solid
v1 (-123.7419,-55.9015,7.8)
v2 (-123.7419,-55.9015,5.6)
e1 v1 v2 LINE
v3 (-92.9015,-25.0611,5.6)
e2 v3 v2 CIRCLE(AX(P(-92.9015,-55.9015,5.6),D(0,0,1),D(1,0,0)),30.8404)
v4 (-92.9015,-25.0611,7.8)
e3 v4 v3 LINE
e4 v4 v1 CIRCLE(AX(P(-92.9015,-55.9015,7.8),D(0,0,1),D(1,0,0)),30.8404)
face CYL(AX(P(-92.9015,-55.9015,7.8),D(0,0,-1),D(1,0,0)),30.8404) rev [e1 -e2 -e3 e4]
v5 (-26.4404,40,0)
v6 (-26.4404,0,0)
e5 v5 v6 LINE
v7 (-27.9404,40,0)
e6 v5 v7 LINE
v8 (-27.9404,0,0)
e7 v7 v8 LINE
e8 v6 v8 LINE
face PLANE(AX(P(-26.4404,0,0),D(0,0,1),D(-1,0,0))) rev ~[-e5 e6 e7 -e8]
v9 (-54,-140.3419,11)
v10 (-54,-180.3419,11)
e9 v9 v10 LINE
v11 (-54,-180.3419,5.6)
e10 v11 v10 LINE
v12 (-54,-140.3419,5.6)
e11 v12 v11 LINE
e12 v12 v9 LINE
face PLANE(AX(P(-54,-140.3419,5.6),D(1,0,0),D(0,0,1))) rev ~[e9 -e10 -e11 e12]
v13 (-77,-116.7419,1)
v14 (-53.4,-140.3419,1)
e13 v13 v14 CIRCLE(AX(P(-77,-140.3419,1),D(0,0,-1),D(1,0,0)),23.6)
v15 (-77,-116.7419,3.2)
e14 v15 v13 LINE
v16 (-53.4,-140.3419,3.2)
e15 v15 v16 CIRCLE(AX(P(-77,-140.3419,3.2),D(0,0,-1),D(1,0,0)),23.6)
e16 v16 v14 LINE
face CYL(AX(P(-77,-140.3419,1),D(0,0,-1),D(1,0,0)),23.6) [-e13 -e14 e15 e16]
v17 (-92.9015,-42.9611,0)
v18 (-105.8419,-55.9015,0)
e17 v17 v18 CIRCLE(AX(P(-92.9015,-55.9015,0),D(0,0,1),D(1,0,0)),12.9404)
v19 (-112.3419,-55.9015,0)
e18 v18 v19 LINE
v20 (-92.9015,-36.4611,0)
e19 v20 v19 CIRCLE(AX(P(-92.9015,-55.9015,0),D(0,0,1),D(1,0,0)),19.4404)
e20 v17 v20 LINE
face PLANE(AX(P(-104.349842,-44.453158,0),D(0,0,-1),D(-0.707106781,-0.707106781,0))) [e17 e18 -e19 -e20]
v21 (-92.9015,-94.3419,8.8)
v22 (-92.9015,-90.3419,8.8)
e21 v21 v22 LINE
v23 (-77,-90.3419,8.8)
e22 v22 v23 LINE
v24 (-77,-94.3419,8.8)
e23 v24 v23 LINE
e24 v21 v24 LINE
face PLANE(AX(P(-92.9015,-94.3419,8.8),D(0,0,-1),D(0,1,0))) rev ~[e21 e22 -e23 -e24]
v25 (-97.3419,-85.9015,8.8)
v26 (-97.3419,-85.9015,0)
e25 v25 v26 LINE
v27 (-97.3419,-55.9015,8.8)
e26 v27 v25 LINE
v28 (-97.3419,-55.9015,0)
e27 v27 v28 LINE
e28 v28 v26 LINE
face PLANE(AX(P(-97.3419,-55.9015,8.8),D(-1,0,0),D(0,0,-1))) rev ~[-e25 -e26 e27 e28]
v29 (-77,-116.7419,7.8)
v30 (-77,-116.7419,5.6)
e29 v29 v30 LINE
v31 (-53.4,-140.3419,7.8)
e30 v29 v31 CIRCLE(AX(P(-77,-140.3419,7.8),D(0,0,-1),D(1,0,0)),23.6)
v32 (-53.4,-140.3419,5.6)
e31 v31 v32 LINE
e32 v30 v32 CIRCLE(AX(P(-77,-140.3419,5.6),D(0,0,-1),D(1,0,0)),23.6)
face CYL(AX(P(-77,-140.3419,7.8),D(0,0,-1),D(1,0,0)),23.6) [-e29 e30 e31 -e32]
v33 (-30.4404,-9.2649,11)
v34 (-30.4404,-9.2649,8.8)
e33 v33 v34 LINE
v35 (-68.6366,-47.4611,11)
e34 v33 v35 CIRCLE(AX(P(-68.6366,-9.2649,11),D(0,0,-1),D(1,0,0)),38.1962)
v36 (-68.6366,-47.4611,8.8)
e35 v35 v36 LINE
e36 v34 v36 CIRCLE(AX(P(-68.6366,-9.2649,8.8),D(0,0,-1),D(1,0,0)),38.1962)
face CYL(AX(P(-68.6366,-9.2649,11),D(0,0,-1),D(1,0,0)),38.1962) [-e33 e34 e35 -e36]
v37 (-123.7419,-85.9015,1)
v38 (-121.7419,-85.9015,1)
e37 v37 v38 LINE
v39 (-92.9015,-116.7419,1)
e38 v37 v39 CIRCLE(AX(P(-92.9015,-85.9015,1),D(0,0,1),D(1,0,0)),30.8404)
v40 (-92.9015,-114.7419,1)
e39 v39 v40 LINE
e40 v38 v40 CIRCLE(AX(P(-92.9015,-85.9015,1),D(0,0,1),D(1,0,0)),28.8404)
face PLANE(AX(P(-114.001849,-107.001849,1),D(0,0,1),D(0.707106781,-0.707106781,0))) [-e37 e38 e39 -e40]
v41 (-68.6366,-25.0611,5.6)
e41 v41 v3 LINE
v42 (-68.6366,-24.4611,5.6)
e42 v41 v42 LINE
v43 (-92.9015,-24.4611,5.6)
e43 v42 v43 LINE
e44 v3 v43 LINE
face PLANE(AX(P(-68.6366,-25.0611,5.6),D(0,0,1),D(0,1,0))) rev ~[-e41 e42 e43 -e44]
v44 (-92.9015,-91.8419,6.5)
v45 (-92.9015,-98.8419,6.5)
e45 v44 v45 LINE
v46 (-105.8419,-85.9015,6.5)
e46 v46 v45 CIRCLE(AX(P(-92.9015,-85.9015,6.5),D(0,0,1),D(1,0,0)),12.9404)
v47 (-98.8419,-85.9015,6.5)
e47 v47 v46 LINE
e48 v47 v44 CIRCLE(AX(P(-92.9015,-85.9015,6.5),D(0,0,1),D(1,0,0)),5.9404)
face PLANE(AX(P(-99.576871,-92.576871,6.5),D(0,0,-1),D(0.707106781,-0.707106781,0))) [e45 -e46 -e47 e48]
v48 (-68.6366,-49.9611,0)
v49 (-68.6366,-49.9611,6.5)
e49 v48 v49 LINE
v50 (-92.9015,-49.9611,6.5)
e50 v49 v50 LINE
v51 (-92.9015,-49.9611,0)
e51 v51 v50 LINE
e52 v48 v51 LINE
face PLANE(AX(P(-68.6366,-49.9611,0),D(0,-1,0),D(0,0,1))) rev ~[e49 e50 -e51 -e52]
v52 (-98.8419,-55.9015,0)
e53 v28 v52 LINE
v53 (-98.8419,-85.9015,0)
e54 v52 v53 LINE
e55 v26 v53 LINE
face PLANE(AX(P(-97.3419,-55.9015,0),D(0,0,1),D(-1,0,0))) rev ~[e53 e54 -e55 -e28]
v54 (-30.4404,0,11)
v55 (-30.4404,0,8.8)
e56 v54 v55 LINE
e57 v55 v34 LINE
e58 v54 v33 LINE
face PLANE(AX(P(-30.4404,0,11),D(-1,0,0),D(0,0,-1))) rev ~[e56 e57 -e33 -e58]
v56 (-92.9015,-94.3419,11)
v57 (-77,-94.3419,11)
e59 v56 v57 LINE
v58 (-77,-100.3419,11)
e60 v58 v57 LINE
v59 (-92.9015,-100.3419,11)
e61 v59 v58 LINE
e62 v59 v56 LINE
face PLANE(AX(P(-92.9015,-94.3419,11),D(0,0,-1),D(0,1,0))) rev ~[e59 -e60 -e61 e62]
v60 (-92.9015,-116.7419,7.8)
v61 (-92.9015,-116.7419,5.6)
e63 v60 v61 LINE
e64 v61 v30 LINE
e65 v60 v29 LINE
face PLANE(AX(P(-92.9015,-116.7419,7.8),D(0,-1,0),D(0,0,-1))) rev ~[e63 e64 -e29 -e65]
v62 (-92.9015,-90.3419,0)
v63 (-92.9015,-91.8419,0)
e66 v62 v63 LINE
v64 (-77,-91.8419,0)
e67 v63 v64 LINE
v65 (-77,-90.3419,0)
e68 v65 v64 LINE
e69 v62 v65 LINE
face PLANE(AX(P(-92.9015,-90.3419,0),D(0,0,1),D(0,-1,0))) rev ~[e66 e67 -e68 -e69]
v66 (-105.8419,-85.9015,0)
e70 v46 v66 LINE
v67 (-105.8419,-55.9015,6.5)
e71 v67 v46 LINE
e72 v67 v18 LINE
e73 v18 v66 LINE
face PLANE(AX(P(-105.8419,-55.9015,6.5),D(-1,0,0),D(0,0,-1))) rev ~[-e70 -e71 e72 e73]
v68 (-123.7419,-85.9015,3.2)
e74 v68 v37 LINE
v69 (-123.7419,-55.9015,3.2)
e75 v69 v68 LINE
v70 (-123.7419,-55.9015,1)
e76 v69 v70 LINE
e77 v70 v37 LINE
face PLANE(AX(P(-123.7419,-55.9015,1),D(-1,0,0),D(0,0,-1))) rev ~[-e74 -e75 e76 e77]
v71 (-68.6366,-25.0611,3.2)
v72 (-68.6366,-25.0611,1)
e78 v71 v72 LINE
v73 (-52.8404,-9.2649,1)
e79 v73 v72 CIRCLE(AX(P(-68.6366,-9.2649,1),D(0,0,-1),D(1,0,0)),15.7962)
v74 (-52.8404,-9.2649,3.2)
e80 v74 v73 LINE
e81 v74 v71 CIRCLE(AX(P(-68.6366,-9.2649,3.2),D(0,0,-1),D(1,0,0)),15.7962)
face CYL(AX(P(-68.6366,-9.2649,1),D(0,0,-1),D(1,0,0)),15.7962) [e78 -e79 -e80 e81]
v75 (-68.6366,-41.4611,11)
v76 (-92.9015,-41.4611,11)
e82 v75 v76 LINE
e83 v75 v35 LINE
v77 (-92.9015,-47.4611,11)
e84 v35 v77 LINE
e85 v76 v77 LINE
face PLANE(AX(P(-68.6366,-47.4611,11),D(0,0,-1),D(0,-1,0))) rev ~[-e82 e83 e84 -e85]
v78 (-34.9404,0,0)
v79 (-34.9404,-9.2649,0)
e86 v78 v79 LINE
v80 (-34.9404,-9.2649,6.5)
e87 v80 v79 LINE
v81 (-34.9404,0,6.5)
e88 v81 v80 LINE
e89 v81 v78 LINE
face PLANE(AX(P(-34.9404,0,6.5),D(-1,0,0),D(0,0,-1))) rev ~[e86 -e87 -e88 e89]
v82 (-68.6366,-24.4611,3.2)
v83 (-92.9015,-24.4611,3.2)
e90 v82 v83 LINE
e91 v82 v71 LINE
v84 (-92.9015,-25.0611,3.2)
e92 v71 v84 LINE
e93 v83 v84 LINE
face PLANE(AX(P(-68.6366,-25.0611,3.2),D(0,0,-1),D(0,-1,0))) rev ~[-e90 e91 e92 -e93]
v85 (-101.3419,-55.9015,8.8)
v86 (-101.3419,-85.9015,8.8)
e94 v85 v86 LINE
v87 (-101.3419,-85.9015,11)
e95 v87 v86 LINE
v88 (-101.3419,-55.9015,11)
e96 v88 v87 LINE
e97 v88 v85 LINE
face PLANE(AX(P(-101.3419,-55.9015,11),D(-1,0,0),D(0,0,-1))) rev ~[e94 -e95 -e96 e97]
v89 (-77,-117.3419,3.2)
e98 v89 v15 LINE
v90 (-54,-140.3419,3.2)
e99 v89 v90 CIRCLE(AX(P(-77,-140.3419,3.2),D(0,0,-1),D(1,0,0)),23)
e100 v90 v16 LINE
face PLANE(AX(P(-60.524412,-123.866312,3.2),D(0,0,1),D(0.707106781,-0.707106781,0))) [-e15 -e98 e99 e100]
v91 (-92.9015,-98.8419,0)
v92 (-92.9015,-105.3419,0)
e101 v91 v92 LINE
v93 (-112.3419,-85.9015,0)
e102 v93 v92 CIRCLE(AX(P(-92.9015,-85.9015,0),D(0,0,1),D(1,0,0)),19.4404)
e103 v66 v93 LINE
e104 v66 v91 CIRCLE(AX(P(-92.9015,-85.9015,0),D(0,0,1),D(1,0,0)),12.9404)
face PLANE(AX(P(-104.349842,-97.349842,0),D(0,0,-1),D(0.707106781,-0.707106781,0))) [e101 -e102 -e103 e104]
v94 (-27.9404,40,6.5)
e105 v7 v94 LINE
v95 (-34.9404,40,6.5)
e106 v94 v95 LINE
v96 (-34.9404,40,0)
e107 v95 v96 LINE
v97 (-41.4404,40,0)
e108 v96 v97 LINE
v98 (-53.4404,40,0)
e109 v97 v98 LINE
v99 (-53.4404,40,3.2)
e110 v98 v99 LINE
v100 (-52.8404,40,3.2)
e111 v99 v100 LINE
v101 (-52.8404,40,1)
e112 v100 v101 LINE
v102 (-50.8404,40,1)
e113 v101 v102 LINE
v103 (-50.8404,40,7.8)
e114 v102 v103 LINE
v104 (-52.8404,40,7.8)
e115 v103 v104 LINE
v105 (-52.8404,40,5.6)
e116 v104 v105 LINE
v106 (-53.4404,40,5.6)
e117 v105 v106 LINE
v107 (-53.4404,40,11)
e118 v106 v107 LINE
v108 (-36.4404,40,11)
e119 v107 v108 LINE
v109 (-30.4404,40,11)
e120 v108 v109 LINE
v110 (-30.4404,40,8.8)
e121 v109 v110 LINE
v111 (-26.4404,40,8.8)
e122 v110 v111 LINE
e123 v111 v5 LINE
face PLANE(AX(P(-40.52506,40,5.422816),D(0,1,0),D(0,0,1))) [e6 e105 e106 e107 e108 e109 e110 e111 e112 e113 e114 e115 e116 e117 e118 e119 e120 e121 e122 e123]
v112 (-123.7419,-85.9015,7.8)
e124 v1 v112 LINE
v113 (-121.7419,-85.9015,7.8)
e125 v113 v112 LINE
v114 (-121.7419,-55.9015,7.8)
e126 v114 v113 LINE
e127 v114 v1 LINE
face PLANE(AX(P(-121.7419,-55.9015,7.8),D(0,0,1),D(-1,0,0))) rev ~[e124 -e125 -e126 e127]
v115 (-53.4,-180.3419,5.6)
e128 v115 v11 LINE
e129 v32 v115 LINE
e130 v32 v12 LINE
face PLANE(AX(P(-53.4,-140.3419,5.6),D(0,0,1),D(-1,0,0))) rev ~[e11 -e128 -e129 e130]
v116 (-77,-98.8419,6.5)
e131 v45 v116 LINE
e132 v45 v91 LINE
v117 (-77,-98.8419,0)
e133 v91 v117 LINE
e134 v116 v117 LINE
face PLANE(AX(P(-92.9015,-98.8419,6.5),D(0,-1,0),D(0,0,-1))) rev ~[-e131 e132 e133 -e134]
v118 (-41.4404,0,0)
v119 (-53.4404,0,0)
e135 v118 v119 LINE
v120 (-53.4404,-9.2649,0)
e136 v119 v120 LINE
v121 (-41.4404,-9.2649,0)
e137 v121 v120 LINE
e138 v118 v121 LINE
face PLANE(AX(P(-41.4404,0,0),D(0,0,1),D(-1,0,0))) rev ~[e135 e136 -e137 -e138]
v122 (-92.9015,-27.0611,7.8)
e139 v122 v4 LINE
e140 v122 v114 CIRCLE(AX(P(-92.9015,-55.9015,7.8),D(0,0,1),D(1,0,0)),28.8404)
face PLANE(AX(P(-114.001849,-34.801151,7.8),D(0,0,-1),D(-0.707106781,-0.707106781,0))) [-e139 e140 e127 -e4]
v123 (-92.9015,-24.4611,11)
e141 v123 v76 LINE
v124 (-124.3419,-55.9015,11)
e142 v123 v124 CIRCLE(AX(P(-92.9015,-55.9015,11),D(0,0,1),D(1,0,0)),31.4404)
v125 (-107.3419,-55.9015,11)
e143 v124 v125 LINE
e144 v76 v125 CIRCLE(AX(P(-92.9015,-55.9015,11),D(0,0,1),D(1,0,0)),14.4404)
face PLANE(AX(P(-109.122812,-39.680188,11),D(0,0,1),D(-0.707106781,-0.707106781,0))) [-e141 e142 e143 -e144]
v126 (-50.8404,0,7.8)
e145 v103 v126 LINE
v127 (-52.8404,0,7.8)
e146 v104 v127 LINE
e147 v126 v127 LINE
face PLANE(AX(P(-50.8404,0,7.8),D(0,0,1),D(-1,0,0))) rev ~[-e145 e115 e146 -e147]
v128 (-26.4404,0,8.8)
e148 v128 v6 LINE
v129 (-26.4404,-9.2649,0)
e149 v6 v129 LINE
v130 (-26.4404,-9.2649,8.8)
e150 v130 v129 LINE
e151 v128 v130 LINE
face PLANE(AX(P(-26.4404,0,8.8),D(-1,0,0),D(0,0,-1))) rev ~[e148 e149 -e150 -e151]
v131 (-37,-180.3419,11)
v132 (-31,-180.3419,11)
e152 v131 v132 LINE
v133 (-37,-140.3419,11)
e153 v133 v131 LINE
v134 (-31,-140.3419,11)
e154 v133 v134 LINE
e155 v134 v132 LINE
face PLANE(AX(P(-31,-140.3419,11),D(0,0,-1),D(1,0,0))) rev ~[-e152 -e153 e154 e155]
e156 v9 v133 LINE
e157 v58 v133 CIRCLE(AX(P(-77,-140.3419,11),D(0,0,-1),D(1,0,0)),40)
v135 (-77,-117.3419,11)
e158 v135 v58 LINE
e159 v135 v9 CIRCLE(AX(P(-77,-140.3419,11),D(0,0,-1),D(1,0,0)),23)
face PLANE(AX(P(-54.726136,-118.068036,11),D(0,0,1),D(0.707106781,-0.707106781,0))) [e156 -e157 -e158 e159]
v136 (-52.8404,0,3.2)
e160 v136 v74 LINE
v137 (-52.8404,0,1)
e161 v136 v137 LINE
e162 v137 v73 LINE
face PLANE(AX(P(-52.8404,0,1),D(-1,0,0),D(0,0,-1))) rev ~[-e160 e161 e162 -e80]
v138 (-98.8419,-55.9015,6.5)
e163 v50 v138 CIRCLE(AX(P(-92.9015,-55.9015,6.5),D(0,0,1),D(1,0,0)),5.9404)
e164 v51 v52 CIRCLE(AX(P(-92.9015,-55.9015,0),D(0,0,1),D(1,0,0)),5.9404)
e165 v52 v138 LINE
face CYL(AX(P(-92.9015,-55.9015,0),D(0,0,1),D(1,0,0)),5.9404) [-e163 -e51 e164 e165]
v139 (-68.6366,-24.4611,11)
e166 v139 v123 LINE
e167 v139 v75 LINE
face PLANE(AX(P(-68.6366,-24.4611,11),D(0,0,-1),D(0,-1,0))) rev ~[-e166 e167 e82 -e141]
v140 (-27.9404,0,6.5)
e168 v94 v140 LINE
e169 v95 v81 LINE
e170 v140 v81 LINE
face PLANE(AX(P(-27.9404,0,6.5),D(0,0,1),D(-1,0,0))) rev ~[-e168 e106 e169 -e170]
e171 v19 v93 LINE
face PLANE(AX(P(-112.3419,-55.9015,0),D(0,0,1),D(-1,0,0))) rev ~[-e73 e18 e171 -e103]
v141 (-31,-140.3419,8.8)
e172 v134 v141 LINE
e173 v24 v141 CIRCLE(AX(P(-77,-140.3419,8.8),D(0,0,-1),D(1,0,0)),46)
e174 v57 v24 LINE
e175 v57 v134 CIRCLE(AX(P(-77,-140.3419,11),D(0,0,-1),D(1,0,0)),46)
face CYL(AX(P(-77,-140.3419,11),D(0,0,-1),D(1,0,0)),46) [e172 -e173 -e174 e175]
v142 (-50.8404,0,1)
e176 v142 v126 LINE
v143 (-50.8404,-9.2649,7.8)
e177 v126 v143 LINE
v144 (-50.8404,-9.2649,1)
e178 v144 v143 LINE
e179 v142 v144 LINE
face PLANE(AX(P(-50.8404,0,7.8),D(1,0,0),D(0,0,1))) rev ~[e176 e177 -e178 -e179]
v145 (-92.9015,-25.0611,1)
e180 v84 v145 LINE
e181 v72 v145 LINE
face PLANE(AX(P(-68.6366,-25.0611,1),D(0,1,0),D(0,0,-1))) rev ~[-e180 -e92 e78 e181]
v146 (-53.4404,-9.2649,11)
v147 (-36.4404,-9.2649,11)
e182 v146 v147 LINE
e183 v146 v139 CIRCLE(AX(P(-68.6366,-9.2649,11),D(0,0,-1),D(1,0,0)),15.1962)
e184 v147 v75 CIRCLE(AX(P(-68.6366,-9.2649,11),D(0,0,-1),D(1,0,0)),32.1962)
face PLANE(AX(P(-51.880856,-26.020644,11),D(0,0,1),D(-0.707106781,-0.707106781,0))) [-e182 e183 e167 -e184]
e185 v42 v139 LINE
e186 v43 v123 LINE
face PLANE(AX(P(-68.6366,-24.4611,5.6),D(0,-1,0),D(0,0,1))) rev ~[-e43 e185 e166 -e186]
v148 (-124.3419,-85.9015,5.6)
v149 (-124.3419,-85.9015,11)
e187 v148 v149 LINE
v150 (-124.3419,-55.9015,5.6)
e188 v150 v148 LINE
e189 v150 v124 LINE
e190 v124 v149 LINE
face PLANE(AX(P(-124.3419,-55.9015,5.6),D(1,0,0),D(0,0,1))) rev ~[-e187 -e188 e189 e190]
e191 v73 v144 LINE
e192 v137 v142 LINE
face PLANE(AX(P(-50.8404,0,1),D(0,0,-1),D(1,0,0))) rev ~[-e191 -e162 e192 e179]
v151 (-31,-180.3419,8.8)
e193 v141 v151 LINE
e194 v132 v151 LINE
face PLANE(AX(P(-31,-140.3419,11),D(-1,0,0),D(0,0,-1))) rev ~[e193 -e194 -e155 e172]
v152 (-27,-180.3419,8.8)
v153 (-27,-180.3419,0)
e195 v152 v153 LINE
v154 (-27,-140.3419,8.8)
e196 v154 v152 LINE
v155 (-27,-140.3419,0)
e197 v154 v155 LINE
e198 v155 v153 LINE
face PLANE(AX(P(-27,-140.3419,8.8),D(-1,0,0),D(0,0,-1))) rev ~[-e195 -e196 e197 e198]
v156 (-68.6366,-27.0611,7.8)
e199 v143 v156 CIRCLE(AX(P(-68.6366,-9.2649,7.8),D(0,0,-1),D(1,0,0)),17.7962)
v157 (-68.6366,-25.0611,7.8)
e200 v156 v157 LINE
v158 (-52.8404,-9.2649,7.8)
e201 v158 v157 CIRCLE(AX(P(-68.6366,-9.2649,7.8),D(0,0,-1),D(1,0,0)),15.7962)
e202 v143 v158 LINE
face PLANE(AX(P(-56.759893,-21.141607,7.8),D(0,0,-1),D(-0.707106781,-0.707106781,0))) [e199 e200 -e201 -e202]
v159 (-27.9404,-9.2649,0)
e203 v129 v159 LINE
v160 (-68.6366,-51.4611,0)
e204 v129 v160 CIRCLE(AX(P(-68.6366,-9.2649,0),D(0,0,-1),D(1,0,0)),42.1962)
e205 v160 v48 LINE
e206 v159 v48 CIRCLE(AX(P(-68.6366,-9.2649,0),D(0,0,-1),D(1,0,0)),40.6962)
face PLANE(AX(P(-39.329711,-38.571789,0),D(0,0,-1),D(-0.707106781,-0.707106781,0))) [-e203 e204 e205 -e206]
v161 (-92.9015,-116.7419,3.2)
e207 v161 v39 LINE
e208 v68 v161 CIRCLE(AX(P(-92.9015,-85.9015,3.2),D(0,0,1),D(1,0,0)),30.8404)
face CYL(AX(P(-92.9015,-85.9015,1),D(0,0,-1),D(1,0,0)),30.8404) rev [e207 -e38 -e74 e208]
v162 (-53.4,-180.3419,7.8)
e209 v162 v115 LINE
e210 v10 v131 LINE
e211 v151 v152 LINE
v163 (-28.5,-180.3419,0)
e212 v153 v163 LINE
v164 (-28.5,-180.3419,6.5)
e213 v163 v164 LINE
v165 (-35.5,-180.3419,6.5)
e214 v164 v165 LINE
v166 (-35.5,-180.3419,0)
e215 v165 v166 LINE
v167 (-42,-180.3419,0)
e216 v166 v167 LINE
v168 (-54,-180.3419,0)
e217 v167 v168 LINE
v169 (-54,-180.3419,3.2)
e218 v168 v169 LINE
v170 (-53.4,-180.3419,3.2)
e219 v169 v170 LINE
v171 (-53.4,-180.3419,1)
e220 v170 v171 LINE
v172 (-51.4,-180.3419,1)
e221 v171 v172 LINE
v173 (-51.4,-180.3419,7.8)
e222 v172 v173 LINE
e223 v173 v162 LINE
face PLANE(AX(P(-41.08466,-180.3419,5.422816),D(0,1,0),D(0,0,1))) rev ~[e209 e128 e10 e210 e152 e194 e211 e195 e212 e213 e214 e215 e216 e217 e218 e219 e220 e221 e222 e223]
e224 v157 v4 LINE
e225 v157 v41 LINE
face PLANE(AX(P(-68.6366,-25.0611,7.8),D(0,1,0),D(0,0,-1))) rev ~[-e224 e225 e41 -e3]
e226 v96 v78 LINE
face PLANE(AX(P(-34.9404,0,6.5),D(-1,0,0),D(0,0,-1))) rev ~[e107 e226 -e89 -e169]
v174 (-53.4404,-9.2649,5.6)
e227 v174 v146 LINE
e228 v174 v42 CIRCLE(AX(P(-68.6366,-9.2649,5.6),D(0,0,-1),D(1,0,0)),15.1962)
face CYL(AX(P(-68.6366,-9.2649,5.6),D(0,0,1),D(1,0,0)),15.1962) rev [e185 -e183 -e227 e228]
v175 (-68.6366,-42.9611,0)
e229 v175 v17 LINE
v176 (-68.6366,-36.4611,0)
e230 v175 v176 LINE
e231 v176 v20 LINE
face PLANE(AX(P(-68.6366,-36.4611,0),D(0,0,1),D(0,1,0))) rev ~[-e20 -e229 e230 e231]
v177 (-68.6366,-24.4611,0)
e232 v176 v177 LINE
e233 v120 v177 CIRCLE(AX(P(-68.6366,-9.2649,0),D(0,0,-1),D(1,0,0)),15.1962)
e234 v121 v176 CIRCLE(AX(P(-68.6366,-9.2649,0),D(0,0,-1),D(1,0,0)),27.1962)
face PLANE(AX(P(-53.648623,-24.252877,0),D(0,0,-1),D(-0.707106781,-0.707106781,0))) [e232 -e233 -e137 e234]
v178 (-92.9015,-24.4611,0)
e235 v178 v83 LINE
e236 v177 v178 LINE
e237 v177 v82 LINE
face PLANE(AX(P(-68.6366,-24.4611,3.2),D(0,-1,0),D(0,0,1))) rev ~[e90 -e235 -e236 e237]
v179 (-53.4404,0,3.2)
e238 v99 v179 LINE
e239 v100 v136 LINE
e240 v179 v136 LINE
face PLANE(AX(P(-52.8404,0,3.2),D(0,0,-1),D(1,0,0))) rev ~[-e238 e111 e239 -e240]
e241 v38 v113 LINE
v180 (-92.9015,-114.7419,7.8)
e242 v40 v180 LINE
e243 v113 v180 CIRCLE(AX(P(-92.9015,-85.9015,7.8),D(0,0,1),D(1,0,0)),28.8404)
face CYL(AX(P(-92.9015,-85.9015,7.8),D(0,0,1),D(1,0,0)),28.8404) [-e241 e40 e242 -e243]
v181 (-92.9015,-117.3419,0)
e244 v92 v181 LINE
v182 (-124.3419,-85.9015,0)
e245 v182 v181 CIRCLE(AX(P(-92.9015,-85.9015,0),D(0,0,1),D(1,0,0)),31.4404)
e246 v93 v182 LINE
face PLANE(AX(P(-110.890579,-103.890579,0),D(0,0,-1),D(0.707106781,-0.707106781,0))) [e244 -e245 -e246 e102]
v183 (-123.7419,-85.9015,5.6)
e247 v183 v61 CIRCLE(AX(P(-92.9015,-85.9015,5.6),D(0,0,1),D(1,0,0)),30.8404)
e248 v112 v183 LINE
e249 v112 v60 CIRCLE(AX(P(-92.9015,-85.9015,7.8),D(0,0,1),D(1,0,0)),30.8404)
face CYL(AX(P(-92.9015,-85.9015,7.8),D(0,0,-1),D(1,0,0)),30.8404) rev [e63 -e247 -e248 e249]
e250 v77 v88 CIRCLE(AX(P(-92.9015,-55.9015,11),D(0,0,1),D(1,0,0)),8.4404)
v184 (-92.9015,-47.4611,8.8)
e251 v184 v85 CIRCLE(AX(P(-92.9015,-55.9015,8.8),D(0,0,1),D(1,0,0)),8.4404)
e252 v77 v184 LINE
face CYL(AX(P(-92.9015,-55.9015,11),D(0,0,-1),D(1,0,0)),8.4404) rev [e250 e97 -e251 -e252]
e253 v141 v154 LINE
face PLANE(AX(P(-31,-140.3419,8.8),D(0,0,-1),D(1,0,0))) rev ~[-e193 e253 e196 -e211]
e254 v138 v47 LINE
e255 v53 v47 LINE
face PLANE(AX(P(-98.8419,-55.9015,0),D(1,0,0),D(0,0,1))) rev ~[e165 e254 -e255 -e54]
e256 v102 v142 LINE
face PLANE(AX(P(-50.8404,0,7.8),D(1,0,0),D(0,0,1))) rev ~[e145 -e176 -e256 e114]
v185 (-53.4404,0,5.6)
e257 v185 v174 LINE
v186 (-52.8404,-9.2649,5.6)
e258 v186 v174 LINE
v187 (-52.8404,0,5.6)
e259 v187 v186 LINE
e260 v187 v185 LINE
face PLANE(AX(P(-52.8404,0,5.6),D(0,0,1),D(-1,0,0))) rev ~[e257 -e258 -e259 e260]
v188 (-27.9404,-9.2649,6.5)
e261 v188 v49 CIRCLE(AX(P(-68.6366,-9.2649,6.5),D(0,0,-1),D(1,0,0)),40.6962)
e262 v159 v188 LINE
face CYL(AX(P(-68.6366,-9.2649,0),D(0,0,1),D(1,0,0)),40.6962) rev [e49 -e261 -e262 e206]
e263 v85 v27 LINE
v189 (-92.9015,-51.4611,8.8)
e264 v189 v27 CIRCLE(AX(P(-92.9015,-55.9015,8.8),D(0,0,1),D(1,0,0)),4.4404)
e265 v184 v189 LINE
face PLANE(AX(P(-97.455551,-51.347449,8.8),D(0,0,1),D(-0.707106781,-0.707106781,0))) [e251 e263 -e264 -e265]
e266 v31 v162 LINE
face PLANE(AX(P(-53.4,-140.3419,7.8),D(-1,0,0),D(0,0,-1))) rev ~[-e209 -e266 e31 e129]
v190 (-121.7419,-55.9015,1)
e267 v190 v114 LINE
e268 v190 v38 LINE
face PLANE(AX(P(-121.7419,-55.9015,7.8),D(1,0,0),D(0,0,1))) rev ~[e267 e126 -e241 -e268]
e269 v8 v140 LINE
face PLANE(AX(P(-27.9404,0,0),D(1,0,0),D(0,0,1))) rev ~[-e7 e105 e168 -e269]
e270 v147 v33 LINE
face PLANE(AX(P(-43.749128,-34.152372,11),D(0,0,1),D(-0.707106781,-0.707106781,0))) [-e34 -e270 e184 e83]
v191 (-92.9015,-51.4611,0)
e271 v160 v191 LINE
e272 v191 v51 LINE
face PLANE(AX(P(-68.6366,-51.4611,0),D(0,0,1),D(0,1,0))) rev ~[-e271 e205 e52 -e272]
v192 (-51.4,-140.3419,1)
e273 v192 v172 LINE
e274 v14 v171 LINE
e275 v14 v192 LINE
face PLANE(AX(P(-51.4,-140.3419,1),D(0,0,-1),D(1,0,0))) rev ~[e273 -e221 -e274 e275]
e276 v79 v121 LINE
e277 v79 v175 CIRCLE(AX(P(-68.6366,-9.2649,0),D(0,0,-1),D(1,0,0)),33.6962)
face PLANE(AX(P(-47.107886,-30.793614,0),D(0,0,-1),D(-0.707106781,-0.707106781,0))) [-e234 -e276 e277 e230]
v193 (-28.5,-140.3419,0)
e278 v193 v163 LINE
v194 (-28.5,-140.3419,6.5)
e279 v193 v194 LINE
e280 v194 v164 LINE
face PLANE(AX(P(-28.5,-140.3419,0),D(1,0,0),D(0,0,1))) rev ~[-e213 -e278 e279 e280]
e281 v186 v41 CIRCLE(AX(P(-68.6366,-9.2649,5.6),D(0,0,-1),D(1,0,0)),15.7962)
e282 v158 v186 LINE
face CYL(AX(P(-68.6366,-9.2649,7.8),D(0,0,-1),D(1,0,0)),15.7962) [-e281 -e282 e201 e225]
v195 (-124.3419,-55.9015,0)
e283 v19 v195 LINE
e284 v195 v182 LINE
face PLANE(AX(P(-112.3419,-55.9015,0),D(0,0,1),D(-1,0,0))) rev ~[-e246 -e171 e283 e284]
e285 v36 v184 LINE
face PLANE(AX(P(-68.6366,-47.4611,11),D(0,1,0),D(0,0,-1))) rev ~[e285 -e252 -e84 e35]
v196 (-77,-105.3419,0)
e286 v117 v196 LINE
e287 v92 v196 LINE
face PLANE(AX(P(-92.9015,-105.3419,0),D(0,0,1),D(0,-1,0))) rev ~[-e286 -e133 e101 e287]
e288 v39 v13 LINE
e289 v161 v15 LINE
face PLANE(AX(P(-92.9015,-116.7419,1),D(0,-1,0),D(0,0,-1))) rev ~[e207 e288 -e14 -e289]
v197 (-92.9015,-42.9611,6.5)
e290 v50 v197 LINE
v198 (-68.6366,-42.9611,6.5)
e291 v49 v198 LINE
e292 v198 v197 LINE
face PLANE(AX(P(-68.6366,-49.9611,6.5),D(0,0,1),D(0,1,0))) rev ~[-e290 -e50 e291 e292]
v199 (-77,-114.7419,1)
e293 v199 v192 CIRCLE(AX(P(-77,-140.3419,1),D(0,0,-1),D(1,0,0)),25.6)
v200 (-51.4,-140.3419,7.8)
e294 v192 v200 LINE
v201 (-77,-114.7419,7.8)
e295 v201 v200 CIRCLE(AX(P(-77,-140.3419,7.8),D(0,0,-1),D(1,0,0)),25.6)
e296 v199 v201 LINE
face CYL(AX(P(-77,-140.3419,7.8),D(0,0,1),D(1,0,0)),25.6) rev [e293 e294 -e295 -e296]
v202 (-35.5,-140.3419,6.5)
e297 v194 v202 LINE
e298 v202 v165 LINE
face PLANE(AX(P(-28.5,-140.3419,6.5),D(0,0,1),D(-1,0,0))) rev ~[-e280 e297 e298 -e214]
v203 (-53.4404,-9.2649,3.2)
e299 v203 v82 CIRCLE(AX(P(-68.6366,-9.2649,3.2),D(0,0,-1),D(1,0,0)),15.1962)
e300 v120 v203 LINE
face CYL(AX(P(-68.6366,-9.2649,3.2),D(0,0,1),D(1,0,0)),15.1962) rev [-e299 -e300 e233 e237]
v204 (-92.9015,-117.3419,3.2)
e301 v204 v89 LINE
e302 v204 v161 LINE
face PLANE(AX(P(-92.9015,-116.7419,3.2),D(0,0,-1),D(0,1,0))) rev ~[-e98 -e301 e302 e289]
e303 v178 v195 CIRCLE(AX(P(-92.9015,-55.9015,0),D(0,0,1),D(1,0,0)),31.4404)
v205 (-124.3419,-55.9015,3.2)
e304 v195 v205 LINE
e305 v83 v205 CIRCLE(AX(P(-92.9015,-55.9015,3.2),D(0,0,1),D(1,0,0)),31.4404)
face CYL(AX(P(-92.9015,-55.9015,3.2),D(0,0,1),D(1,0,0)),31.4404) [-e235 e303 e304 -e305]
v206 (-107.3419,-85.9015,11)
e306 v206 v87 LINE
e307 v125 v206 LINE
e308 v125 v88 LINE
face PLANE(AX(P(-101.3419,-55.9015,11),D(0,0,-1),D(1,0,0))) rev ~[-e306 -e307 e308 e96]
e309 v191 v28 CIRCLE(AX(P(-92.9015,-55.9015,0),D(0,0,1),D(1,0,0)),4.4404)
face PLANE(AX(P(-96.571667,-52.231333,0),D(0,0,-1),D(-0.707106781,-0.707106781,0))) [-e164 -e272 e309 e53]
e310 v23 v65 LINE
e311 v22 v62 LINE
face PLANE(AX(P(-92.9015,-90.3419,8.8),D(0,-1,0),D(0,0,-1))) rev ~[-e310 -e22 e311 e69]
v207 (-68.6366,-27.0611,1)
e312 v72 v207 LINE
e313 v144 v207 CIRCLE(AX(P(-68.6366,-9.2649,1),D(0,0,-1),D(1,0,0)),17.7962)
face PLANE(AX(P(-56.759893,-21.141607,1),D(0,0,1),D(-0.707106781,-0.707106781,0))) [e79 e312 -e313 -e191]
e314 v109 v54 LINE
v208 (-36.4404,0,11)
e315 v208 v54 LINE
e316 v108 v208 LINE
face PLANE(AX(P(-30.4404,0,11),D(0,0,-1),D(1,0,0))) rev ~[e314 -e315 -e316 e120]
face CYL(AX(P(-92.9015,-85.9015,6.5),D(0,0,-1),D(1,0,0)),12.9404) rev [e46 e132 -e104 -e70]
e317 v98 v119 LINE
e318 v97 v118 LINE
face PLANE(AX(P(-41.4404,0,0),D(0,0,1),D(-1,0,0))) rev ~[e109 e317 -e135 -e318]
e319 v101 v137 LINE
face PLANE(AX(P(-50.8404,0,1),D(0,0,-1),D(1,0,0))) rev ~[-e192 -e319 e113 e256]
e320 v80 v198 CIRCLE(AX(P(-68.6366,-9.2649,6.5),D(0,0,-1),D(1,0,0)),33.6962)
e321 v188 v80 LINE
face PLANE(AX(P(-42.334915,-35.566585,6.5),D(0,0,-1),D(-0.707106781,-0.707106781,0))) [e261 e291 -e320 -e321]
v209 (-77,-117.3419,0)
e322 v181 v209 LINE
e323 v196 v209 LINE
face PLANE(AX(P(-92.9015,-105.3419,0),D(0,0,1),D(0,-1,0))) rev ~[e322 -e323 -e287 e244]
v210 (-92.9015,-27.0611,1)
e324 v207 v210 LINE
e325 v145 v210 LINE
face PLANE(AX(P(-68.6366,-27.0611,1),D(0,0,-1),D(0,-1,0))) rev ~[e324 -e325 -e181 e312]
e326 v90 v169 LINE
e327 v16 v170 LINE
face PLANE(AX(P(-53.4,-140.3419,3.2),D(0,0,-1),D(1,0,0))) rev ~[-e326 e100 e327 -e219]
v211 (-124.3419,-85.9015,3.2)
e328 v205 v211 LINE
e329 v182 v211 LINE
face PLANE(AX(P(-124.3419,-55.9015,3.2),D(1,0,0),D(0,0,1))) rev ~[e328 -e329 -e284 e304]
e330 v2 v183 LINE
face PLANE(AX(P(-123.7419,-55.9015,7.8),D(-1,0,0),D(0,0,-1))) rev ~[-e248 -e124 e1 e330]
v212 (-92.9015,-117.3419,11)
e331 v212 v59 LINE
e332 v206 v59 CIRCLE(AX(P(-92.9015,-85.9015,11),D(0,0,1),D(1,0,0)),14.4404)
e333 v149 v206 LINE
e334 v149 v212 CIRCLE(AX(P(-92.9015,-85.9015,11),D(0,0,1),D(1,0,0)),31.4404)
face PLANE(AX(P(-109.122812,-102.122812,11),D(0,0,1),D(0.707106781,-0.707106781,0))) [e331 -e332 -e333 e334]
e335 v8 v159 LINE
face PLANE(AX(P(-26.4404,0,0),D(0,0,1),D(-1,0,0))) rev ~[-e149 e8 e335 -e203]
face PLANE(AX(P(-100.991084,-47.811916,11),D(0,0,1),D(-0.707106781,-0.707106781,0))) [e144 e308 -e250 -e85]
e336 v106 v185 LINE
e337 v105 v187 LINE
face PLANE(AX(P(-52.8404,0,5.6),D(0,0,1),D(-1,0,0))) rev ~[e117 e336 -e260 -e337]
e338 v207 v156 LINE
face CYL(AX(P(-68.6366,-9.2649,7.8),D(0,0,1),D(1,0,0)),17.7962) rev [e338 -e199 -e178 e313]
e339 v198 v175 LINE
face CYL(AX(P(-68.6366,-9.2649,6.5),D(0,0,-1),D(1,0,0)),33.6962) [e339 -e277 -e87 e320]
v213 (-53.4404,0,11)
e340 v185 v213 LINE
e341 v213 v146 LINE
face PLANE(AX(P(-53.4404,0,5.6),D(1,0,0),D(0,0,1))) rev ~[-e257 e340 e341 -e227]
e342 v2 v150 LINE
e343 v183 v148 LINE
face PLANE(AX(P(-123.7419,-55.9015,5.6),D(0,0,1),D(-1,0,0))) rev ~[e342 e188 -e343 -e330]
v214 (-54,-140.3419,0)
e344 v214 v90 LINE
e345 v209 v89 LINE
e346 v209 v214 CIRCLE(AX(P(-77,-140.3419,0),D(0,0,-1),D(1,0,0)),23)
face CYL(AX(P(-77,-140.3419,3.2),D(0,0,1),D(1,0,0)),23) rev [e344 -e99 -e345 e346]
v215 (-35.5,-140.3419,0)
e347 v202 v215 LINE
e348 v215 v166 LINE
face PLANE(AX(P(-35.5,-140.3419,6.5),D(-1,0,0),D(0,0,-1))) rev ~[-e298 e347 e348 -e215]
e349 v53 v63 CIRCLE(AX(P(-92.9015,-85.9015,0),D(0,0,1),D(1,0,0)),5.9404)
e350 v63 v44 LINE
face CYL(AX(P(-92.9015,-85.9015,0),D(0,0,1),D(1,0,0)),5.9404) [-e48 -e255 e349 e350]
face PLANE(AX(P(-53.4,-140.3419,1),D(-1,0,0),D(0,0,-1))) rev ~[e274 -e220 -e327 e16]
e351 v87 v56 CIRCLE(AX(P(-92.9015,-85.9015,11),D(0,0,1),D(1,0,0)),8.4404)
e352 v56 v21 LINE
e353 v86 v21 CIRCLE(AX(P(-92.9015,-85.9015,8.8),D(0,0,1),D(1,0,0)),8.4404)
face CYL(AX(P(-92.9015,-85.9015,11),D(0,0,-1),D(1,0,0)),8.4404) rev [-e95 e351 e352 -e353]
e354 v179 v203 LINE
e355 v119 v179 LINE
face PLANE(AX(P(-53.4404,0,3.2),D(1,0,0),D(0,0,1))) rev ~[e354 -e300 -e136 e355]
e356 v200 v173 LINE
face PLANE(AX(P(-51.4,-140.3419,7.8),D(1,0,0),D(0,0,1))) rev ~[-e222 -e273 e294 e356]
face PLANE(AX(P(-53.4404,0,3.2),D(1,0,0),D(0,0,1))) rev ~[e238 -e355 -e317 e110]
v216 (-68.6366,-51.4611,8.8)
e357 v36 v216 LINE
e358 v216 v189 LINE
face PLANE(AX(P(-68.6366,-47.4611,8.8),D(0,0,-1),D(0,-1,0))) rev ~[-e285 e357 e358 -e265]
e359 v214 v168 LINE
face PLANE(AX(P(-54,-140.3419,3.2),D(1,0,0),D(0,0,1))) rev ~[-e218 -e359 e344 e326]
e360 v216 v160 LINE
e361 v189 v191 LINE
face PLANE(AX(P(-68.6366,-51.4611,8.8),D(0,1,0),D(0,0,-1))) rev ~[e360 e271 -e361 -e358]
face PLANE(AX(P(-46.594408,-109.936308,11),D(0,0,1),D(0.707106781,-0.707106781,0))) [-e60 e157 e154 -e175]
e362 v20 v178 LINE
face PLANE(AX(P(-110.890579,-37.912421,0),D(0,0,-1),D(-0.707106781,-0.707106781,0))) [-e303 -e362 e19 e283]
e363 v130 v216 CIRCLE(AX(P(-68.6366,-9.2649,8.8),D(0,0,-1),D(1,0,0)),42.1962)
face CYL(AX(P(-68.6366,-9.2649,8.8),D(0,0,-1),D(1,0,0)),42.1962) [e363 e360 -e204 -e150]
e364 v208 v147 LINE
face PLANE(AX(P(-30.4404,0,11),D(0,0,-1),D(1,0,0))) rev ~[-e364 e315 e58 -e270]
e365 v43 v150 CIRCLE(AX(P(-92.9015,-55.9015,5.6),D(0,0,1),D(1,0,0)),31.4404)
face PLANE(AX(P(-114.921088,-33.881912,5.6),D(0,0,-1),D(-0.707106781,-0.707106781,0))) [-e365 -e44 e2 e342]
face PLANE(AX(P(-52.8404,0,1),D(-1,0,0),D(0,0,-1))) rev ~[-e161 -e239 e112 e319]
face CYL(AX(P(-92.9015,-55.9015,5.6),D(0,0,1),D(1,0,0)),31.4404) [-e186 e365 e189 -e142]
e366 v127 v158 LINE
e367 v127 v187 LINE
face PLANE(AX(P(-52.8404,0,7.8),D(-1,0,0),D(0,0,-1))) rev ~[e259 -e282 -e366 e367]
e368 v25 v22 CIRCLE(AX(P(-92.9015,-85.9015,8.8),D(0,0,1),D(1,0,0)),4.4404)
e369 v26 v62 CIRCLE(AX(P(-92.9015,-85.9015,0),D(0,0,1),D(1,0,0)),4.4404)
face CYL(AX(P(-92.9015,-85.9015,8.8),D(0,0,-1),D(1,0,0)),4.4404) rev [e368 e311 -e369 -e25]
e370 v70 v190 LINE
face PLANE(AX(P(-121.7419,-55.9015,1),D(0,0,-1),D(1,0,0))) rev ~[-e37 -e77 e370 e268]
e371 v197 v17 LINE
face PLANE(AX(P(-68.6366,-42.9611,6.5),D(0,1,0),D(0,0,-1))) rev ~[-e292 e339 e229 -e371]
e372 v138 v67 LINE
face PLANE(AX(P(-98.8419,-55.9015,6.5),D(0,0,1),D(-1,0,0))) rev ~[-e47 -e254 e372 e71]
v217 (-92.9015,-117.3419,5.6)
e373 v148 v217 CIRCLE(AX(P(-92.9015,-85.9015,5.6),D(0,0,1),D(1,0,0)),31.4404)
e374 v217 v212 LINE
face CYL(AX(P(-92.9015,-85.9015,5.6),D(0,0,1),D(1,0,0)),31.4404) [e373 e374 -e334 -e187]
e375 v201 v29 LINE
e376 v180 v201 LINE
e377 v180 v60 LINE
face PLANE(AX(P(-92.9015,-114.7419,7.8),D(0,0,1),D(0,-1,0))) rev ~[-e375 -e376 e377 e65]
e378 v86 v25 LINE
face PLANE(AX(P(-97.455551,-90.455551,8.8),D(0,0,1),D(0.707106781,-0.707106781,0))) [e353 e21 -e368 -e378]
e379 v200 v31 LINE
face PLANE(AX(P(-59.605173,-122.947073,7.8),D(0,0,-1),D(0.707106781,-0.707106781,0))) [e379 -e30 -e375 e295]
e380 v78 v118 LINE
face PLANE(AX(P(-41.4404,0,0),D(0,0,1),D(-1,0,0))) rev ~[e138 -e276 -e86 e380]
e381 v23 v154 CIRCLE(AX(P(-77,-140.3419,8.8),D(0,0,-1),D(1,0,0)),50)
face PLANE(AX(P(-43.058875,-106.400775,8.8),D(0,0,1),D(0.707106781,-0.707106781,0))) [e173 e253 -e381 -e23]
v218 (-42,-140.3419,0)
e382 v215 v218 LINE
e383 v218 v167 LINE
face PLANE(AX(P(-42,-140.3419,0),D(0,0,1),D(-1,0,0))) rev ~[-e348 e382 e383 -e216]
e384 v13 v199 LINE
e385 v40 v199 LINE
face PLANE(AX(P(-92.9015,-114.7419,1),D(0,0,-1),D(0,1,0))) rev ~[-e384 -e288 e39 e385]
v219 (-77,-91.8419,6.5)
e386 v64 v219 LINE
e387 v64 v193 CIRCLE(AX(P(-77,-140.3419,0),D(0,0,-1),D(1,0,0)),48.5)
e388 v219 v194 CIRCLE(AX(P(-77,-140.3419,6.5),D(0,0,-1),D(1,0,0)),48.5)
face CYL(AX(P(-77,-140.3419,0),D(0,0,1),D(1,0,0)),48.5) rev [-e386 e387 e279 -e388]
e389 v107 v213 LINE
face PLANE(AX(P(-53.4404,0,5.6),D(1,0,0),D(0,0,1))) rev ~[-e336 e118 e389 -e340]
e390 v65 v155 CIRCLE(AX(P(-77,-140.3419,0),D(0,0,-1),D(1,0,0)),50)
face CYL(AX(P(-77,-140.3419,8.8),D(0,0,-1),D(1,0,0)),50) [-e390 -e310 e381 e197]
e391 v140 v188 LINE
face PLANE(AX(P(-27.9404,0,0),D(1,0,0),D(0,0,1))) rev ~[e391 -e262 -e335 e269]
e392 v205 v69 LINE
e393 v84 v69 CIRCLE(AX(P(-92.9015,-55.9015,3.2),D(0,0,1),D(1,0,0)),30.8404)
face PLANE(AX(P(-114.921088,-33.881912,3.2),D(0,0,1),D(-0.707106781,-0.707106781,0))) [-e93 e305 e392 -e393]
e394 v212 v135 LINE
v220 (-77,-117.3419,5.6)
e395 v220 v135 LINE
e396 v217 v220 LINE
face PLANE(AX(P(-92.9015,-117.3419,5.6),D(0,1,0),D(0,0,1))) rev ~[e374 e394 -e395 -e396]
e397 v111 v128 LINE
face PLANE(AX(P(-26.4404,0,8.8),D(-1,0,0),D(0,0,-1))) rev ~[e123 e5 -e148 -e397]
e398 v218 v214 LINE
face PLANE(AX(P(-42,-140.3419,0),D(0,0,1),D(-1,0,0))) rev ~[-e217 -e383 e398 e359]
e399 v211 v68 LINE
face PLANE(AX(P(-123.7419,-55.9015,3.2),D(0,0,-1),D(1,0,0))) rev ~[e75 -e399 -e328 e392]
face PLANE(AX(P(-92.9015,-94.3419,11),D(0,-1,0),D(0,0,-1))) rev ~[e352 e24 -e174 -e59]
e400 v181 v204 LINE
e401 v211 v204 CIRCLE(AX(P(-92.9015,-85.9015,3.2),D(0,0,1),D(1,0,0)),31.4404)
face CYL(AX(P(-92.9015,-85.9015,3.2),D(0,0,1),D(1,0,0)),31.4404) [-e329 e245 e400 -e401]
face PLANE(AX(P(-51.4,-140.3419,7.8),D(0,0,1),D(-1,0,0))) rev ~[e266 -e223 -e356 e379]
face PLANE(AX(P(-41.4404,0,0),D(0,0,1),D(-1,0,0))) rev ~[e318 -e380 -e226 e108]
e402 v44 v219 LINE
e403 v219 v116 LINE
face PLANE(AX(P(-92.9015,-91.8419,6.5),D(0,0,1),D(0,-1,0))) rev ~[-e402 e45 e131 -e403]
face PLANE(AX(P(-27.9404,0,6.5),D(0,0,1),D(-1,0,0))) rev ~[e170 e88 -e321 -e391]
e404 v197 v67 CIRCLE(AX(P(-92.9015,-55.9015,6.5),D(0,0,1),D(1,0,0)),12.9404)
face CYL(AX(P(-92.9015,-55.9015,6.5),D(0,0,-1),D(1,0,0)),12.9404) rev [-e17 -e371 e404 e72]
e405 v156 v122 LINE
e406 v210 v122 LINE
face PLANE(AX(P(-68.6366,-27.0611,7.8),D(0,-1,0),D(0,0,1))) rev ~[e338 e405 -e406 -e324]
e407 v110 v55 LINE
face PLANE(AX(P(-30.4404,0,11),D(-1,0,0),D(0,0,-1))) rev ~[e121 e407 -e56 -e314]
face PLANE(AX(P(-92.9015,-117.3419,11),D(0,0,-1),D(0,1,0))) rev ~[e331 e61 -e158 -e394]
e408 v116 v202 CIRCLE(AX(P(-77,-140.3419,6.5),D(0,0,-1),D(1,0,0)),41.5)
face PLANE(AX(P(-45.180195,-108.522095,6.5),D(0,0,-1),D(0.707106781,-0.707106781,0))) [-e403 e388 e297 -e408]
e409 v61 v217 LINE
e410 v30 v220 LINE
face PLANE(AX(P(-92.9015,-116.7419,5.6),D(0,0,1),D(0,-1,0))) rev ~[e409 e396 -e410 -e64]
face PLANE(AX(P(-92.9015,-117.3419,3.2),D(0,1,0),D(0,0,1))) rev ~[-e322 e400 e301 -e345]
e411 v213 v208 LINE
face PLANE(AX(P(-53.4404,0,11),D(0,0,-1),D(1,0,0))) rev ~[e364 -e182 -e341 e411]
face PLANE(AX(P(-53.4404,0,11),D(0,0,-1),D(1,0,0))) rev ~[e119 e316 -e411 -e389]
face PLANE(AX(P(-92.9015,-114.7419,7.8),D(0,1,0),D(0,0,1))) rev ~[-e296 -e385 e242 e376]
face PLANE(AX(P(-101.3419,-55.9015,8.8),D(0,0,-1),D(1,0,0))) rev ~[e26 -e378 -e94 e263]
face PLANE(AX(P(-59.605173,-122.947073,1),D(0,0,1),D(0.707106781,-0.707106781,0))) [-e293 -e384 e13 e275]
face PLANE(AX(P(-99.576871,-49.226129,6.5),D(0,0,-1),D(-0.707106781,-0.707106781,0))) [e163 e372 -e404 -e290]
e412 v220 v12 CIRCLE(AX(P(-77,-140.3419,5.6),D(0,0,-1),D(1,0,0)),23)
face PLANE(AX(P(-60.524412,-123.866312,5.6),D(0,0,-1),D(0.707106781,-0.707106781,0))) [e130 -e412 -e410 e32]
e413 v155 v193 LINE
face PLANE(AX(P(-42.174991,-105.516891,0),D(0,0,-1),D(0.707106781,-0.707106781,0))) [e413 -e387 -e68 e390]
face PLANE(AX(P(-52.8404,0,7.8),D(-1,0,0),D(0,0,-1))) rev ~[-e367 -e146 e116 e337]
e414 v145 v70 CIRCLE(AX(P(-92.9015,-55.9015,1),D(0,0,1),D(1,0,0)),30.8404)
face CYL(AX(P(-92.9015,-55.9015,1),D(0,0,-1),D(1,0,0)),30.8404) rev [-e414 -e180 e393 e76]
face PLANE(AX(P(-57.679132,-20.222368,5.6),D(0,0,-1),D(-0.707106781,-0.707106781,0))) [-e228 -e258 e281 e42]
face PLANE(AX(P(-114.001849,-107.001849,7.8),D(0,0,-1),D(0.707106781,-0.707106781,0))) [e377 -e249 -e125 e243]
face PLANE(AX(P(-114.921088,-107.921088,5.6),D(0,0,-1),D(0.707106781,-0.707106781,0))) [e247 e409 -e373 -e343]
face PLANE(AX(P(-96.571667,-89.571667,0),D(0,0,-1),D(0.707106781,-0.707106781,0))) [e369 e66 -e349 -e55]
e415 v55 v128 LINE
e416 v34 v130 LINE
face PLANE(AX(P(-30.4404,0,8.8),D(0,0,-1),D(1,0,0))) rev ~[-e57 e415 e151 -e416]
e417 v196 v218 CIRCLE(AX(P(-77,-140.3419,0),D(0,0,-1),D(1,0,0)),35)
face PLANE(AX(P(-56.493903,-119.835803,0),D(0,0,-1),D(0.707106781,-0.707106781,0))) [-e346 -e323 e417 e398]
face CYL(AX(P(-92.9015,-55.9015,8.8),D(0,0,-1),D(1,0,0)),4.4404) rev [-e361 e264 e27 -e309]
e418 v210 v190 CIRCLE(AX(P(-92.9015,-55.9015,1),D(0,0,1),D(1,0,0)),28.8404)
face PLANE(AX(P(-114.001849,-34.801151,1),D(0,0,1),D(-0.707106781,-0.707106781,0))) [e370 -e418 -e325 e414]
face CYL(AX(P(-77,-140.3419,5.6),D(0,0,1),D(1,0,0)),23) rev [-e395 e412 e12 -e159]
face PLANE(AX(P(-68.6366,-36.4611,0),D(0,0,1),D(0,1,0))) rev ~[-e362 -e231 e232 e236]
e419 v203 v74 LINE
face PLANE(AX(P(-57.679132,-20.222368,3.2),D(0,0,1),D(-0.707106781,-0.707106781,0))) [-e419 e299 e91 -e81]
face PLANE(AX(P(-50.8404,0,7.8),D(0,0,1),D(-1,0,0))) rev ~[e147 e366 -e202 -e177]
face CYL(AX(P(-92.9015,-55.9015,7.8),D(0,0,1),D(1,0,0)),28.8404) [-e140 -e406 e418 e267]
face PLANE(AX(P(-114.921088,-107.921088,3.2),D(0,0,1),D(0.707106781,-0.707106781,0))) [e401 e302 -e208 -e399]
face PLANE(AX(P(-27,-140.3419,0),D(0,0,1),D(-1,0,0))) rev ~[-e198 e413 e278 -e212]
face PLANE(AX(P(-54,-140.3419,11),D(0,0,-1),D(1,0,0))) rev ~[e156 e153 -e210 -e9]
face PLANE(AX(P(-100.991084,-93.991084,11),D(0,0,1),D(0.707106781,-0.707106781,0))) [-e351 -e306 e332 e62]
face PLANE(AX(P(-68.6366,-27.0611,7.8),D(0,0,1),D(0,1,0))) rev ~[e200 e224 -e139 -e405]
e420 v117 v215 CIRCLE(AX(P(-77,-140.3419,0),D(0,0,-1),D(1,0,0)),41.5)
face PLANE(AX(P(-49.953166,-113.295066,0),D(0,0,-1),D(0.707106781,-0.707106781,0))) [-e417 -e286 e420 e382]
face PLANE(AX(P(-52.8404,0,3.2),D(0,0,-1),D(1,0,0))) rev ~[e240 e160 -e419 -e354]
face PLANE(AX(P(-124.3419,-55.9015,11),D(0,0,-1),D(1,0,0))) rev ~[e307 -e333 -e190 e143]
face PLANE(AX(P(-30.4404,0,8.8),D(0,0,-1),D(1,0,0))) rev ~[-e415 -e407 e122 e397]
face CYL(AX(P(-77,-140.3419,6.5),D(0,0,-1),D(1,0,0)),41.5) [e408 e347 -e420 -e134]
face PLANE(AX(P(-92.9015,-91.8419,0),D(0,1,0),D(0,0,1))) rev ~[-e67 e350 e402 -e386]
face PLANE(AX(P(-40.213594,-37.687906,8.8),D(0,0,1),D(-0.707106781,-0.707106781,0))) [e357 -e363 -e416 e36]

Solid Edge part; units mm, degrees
sketch "Sketch1" plane through (0, 0, 0) normal (0, 0, 1) x (1, 0, 0)
  line L0 (-27, -140.3419) -> (-27, -180.3419)
  arc A0 (-77, -90.3419) -> (-27, -140.3419) centre (-77, -140.3419) cw
  line L1 (-92.9015, -90.3419) -> (-77, -90.3419)
  arc A1 (-92.9015, -90.3419) -> (-97.3419, -85.9015) centre (-92.9015, -85.9015) cw
  line L2 (-97.3419, -55.9015) -> (-97.3419, -85.9015)
  arc A2 (-92.9015, -51.4611) -> (-97.3419, -55.9015) centre (-92.9015, -55.9015) ccw
  line L3 (-68.6366, -51.4611) -> (-92.9015, -51.4611)
  arc A3 (-26.4404, -9.2649) -> (-68.6366, -51.4611) centre (-68.6366, -9.2649) cw
  line L4 (-26.4404, 0) -> (-26.4404, -9.2649)
  line L5 (-26.4404, 0) -> (-26.4404, 40)
  dimension "D1" = 9.2649
  dimension "D2" = 30
  dimension "D3" = 24.2649
sketch "Sketch2" plane through (-26.4404, 0, 0) normal (0, 1, 0) x (-1, 0, 0)
  line L0 (4, 8.8) -> (0, 8.8)
  line L1 (0, 8.8) -> (0, 0)
  line L2 (0, 0) -> (1.5, 0)
  line L3 (1.5, 0) -> (1.5, 6.5)
  line L4 (1.5, 6.5) -> (8.5, 6.5)
  line L5 (8.5, 6.5) -> (8.5, 0)
  line L6 (15, 0) -> (8.5, 0)
  line L7 (15, 0) -> (27, 0)
  line L8 (27, 3.2) -> (27, 0)
  line L9 (26.4, 3.2) -> (27, 3.2)
  line L10 (26.4, 1) -> (26.4, 3.2)
  line L11 (24.4, 1) -> (26.4, 1)
  line L12 (24.4, 7.8) -> (24.4, 1)
  line L13 (24.4, 7.8) -> (26.4, 7.8)
  line L14 (26.4, 7.8) -> (26.4, 5.6)
  line L15 (26.4, 5.6) -> (27, 5.6)
  line L16 (27, 5.6) -> (27, 11)
  line L17 (27, 11) -> (10, 11)
  line L18 (4, 11) -> (10, 11)
  line L19 (4, 11) -> (4, 8.8)
sweep "SweptProtrusion_21" add profiles "Sketch2" path "Sketch1"
